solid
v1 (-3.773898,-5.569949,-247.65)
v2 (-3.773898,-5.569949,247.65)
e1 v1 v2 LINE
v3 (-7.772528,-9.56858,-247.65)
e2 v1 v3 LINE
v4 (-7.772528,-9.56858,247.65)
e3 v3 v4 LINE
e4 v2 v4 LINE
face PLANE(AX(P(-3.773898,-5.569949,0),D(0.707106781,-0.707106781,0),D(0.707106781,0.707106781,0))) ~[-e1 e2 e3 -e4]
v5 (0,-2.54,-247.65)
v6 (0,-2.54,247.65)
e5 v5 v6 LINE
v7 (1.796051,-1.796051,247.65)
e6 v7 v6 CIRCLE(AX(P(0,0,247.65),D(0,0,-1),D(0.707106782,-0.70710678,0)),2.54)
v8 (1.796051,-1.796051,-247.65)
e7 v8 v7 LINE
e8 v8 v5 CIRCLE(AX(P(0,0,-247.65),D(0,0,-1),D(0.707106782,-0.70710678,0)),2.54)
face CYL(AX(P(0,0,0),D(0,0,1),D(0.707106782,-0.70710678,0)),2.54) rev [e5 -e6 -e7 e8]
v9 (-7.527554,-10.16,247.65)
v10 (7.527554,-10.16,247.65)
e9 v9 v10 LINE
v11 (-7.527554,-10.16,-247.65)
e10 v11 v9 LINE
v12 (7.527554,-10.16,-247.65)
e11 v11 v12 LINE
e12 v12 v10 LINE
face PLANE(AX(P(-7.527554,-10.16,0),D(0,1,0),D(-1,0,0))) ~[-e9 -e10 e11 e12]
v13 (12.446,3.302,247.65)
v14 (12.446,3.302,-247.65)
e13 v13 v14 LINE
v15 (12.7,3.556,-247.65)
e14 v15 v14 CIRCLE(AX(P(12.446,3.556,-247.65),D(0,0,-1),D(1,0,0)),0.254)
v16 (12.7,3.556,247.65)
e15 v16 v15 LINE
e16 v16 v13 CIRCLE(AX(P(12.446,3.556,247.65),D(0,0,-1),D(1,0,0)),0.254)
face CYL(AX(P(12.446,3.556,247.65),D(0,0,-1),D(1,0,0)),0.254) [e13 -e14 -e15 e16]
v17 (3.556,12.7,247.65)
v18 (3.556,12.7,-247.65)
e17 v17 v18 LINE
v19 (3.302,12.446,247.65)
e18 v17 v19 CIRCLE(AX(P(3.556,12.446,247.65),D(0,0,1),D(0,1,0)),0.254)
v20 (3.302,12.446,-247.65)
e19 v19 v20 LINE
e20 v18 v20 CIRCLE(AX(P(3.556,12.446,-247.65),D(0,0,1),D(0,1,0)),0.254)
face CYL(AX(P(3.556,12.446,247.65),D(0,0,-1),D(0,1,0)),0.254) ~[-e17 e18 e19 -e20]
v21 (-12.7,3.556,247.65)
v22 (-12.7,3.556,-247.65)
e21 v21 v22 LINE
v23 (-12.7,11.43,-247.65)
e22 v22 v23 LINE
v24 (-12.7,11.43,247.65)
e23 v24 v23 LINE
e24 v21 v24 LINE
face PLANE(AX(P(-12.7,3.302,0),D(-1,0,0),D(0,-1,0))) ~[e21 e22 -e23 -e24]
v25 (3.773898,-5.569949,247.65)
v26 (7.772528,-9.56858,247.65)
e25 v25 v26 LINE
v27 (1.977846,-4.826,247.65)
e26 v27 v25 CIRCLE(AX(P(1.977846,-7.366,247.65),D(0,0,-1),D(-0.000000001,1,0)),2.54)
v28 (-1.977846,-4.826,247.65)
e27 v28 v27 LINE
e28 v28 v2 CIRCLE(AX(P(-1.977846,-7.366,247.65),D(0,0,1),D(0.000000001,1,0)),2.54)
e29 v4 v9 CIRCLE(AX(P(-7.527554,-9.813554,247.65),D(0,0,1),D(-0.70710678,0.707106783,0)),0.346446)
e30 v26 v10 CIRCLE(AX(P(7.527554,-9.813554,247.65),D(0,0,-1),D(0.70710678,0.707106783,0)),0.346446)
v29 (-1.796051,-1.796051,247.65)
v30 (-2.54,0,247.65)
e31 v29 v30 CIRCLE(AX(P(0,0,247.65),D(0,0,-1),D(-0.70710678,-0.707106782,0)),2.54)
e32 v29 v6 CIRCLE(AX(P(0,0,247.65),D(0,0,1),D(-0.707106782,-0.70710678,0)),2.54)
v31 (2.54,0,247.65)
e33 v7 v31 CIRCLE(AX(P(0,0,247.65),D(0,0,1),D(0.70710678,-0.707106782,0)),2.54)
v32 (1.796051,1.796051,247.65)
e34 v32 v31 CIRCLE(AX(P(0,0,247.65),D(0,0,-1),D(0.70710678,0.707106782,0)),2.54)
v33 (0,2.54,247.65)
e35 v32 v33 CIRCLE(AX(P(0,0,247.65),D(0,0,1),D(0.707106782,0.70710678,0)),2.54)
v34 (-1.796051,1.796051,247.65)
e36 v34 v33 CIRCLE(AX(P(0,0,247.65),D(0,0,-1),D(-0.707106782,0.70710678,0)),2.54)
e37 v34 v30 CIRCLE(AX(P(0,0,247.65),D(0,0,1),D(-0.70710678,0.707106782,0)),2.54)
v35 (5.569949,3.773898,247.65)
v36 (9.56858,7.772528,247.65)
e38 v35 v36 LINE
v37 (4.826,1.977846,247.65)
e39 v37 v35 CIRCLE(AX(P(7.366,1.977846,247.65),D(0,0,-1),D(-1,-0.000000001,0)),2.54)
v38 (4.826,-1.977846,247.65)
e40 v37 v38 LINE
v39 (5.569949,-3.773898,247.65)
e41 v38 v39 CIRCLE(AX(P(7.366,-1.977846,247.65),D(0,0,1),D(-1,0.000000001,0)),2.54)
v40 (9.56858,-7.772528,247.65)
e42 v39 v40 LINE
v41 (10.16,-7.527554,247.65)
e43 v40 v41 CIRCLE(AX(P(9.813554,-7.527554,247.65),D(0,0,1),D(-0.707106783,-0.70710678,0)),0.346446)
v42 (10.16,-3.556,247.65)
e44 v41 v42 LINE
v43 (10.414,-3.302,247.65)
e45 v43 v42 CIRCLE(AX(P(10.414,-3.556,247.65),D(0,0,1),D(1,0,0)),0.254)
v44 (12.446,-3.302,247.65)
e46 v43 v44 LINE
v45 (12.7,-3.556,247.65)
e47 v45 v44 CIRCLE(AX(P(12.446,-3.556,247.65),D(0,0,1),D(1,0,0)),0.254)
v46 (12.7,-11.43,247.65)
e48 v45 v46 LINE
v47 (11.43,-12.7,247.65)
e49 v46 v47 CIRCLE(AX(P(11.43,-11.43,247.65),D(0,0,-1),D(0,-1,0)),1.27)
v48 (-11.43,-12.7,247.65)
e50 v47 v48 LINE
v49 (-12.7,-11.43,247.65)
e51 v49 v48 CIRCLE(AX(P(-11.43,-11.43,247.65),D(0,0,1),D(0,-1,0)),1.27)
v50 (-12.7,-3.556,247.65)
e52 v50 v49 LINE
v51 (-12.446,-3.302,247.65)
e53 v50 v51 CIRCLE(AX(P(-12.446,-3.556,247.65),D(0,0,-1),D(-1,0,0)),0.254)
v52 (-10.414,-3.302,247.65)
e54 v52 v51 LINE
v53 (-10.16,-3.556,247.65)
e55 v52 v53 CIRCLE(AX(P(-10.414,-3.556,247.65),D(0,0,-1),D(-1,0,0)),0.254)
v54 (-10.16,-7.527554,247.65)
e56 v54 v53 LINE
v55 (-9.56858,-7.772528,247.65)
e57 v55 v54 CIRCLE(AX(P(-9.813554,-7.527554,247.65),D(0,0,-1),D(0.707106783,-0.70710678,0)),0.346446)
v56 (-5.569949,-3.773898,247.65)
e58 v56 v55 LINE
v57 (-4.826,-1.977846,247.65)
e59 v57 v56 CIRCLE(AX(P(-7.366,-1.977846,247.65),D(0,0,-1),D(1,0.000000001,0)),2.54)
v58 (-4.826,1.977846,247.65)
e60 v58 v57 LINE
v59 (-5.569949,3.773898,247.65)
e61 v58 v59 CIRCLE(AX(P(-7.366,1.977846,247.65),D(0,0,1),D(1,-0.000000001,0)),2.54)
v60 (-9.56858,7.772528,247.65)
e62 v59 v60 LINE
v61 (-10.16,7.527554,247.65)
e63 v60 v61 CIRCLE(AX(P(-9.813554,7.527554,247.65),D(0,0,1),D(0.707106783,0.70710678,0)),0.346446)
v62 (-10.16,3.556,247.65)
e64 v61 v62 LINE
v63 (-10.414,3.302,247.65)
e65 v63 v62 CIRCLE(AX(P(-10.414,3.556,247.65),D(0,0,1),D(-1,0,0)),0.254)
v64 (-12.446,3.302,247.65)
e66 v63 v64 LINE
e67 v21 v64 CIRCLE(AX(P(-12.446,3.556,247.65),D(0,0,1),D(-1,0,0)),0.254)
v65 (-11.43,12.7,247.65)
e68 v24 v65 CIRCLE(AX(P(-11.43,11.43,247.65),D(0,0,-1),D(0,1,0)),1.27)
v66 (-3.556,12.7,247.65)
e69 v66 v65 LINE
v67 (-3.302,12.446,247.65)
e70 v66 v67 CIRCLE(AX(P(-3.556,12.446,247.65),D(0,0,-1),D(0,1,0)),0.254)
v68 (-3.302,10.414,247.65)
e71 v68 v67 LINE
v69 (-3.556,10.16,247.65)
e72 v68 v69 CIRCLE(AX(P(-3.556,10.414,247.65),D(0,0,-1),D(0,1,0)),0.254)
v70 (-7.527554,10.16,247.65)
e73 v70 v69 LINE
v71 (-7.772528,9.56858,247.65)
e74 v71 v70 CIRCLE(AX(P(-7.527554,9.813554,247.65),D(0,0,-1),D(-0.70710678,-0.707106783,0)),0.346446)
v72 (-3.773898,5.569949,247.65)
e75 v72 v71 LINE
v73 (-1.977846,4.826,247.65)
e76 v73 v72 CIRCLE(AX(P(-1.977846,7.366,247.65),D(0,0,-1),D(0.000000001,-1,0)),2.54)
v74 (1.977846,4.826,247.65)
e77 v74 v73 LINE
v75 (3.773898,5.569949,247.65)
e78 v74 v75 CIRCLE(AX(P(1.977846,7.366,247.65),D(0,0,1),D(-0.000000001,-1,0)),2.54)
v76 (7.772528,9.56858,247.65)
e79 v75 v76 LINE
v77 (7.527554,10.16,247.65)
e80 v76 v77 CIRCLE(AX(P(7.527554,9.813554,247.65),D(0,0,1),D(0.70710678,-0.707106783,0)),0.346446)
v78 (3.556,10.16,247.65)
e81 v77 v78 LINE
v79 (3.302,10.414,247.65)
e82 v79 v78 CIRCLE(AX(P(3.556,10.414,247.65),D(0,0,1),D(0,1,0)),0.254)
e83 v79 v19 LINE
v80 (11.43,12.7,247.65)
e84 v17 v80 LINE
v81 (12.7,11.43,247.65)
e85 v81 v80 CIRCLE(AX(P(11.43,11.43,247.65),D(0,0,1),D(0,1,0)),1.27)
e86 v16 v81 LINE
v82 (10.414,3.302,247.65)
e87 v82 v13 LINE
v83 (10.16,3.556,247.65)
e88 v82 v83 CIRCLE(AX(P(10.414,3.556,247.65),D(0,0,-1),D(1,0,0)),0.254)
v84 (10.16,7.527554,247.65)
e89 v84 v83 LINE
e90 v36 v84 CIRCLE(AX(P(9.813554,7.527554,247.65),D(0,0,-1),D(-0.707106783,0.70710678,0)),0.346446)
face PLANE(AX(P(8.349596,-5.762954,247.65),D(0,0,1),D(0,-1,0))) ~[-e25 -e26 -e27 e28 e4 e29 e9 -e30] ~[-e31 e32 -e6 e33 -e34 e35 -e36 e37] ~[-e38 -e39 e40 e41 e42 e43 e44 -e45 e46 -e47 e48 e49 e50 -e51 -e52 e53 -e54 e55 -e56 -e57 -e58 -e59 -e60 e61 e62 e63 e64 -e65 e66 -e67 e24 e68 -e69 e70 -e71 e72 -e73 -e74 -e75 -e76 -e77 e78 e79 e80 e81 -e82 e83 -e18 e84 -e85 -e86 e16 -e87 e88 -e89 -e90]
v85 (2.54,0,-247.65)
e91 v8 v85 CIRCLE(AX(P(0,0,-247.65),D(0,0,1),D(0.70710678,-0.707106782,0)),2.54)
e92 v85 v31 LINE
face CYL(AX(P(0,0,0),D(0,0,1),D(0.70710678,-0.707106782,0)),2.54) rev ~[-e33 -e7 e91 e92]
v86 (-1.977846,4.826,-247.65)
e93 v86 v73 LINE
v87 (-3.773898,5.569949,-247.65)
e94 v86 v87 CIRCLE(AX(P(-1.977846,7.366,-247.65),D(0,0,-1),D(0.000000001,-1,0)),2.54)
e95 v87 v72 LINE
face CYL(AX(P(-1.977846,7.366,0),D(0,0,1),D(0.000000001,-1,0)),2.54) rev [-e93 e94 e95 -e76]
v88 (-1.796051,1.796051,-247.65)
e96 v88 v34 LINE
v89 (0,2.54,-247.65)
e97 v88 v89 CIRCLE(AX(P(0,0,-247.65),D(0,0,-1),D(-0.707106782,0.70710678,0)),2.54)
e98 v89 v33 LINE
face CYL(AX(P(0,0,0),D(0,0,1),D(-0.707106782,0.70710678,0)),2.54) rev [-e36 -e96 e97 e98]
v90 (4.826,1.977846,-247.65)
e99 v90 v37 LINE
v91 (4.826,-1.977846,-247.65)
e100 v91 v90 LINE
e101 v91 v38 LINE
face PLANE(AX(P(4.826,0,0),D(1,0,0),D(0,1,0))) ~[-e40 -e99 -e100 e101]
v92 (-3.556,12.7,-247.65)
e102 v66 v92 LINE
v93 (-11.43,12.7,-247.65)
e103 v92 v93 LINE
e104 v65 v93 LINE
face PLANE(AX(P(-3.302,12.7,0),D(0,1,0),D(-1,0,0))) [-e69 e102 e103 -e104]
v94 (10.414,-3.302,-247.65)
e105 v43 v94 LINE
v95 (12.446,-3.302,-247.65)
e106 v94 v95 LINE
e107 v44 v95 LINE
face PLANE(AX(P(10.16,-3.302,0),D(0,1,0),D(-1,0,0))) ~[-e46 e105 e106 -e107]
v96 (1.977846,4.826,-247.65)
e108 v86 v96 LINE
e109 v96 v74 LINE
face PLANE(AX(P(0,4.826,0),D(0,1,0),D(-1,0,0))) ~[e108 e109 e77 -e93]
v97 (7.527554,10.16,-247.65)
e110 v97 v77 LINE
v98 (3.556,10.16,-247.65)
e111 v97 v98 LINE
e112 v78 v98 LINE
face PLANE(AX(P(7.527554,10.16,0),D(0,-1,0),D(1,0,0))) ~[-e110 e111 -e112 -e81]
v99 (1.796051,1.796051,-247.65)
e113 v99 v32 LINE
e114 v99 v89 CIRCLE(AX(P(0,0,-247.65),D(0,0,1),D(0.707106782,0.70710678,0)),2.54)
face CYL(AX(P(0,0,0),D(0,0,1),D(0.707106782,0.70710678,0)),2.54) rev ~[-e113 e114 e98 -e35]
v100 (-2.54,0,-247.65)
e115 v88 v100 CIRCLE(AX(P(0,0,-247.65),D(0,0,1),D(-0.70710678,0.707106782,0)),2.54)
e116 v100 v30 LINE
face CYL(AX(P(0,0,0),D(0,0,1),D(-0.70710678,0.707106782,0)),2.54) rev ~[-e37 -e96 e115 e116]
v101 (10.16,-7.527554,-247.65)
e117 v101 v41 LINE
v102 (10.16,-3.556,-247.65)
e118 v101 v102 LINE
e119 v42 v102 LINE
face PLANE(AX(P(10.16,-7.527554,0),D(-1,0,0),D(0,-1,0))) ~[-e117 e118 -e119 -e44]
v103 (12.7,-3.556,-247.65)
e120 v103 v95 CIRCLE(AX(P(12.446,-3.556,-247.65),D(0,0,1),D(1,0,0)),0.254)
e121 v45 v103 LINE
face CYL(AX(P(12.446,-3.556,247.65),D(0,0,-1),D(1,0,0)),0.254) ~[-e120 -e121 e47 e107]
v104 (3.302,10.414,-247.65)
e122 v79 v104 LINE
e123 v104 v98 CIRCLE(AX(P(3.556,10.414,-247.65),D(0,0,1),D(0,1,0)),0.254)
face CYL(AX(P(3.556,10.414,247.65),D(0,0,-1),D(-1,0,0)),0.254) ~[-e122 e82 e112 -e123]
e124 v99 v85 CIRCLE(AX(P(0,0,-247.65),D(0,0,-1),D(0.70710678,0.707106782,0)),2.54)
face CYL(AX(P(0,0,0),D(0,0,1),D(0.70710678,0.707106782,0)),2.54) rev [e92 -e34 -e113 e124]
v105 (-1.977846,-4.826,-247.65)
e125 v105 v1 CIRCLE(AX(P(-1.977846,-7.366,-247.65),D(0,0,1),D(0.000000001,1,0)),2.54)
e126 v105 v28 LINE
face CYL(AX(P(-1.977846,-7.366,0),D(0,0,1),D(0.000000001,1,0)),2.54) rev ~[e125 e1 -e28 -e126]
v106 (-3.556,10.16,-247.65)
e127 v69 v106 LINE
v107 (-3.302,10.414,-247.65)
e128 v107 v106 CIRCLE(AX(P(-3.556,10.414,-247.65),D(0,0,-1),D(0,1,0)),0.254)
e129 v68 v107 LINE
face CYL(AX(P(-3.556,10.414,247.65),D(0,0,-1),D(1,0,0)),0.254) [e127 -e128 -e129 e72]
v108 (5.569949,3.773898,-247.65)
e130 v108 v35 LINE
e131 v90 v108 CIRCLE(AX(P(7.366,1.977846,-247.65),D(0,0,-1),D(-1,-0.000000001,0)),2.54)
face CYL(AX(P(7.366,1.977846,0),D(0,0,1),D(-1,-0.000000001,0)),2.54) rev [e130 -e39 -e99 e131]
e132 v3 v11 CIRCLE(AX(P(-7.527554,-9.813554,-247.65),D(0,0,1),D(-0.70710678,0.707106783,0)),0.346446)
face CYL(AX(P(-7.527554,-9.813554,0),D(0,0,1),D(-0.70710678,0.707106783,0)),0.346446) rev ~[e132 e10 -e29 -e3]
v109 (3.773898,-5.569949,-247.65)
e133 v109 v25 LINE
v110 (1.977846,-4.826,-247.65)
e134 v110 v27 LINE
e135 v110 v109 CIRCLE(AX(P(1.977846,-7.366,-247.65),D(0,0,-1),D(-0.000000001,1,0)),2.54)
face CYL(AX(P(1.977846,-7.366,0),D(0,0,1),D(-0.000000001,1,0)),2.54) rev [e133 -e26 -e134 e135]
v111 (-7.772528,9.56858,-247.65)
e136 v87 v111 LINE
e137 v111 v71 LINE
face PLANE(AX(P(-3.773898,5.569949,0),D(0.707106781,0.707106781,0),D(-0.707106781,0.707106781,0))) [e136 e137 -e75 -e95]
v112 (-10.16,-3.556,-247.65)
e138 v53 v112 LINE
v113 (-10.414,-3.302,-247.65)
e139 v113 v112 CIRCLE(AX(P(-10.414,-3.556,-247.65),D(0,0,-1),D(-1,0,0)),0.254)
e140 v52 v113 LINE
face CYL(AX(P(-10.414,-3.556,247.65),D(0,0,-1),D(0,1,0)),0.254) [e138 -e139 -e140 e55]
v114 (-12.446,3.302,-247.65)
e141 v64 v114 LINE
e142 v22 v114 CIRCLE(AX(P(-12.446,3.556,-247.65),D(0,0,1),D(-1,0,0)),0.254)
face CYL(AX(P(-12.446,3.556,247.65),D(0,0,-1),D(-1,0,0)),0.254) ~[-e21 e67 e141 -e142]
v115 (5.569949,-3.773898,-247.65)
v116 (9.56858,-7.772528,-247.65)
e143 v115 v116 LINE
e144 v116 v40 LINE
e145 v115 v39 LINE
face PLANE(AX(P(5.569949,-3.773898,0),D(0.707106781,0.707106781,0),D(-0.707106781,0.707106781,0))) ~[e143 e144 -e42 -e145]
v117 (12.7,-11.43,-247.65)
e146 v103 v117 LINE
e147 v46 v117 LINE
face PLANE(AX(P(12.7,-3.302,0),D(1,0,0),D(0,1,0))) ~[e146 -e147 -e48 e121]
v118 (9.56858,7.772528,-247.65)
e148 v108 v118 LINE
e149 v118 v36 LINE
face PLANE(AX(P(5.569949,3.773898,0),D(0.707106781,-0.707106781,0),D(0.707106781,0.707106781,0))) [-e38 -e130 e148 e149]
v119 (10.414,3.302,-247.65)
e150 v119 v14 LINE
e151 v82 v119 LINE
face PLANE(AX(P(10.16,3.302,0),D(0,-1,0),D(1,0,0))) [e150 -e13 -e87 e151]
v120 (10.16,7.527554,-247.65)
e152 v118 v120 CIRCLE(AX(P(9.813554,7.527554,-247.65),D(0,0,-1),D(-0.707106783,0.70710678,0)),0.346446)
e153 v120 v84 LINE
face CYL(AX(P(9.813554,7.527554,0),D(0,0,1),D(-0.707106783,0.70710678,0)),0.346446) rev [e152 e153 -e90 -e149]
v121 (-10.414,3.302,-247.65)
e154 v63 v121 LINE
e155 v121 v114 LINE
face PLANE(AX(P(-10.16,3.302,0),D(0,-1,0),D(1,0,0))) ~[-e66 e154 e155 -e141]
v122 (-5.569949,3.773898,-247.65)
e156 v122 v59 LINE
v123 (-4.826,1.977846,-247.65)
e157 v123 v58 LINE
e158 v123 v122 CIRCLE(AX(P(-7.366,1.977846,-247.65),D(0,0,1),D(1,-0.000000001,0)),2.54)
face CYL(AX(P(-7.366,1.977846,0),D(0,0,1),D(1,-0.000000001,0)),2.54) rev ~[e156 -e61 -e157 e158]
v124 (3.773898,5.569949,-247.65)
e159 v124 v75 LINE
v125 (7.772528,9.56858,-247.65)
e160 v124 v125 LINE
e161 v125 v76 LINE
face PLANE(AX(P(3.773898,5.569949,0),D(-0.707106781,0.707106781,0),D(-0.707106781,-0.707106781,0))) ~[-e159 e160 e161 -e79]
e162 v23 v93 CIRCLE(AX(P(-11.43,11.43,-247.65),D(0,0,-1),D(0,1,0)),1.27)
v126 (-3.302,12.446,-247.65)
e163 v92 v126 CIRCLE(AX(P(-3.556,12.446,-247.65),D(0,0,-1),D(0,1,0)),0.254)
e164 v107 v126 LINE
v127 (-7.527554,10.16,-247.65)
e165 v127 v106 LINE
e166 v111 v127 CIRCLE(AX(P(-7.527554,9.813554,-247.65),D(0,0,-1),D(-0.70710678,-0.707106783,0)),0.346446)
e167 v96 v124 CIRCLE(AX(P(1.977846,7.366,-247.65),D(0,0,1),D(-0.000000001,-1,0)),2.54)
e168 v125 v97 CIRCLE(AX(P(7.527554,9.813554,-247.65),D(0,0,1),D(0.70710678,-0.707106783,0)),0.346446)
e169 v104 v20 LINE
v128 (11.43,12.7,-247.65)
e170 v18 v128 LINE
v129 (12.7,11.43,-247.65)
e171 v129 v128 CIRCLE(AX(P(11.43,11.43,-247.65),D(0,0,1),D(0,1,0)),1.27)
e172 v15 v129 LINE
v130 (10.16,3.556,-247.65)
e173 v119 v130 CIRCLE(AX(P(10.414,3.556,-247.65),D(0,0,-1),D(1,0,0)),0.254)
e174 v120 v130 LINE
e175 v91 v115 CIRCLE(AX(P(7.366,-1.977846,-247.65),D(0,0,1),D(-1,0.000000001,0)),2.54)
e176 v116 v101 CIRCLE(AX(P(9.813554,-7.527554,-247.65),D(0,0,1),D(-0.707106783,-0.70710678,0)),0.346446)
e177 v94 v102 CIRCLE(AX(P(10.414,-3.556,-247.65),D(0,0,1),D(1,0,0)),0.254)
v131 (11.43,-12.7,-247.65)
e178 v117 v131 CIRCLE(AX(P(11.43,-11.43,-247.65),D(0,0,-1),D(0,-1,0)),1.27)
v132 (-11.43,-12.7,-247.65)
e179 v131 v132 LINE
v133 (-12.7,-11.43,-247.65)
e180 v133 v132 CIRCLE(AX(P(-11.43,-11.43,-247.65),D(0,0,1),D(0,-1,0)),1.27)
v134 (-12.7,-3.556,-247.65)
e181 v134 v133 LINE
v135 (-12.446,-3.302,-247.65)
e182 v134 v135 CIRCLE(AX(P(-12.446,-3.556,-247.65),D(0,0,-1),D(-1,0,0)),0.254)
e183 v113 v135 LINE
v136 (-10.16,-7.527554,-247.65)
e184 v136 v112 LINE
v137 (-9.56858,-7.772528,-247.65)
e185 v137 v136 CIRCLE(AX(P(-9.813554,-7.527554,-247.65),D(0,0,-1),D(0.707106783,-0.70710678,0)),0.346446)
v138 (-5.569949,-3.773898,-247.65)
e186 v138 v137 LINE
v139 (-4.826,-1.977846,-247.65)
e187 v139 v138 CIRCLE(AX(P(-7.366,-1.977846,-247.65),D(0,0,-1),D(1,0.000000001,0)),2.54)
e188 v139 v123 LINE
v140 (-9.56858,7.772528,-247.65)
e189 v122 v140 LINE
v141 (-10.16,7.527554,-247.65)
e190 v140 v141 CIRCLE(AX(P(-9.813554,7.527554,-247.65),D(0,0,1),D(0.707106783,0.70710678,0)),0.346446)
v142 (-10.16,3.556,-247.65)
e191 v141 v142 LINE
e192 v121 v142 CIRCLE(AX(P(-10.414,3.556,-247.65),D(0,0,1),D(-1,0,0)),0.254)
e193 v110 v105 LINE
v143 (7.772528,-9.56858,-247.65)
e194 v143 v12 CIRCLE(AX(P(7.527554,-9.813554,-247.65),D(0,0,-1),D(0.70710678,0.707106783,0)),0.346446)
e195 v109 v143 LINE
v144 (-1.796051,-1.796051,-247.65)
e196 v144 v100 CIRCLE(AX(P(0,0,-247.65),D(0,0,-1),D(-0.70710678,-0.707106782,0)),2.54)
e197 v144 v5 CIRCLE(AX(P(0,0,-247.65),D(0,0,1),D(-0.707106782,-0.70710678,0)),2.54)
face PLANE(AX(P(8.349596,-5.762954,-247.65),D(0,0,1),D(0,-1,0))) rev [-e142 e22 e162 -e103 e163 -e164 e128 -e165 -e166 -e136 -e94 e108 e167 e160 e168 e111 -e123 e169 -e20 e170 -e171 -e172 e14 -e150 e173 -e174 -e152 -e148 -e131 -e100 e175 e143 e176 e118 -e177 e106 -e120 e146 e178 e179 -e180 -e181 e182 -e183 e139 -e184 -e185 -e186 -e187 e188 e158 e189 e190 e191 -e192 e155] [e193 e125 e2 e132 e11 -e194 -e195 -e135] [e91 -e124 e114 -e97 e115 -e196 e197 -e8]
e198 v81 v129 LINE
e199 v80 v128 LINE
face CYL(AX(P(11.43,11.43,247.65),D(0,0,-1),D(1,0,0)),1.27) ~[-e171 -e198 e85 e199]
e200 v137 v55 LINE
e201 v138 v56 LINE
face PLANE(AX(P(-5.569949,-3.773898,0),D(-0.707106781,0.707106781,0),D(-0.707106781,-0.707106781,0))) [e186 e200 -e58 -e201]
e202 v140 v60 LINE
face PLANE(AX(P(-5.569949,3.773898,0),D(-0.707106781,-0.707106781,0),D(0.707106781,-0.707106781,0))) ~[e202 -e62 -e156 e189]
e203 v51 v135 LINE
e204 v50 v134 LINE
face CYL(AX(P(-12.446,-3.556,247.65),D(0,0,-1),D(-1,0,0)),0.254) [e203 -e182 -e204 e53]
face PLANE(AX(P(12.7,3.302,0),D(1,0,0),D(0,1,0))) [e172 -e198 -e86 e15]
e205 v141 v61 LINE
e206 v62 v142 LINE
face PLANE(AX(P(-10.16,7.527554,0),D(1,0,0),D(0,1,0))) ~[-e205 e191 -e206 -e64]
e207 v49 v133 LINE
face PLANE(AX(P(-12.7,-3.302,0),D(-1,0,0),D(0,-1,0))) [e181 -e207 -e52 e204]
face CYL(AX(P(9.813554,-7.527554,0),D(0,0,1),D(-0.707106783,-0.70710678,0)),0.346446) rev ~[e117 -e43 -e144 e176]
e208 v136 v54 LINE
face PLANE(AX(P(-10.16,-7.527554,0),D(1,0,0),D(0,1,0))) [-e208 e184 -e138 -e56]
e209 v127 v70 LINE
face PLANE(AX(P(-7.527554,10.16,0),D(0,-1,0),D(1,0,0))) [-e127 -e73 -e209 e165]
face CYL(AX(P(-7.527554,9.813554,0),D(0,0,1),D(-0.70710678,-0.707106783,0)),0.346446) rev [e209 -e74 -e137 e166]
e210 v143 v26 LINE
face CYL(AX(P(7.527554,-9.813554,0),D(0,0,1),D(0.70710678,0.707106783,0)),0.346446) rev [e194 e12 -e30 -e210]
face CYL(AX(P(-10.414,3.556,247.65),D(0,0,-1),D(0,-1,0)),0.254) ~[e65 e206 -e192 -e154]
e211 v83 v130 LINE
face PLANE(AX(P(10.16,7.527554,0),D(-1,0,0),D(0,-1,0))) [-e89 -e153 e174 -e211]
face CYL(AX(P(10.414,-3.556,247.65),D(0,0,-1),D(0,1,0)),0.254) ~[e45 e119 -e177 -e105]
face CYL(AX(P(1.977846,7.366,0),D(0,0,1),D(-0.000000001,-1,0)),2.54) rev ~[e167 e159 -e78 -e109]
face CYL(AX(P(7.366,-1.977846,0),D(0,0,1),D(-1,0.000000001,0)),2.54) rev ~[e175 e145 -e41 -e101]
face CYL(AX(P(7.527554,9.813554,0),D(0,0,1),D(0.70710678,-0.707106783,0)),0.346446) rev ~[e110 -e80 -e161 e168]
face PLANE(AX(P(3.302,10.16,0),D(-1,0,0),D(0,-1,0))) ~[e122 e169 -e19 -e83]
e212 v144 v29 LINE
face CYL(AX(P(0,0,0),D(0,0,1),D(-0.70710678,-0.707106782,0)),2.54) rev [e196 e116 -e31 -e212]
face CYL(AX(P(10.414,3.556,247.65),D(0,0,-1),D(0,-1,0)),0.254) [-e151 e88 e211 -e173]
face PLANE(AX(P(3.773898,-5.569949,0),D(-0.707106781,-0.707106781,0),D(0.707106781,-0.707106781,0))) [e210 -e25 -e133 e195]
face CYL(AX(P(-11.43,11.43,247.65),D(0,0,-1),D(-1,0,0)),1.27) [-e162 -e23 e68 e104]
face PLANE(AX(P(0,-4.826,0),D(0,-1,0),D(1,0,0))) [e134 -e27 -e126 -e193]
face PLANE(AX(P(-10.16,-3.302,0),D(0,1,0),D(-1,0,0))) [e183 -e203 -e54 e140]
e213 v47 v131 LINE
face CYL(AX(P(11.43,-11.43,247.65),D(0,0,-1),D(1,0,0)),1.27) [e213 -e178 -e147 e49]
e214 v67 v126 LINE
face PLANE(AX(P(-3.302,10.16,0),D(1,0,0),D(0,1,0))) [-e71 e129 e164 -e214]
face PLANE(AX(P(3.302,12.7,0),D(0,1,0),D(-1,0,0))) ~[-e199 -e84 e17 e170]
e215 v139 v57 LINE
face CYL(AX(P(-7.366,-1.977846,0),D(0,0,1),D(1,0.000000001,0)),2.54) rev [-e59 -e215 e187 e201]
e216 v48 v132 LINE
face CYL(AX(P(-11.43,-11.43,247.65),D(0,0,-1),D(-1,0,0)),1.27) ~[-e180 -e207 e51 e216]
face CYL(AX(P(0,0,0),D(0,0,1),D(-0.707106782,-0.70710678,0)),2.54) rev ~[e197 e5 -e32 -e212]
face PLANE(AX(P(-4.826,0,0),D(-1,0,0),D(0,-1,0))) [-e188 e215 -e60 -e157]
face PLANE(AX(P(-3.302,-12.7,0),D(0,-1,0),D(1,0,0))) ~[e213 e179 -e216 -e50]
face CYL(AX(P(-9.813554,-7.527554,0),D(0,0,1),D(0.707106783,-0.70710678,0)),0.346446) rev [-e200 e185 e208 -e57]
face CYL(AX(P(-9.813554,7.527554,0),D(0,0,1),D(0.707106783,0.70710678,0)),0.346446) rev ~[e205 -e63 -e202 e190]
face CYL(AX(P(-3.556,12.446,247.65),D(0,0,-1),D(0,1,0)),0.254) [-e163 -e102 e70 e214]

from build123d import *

# Parameters (mm, degrees)
BOSS_EXTRUDE1_DEPTH = 247.65
FILLET2_R           = 0.254
FILLET1_R           = 1.27
SKETCH5_W           = 7.112
SKETCH5_H           = 2.54
BOSS_EXTRUDE2_DEPTH = 495.3


with BuildPart() as part:
    # Sketch3 → Boss-Extrude1 (new body, symmetric)
    with BuildSketch(Plane.XY):
        with BuildLine():
            Line((-12.7, 12.7), (-1.796051224, 1.796051224))
            ThreePointArc((-1.796051224, 1.796051224), (-0.972015918, 2.346654013), (0, 2.54))
            Line((0, 2.54), (0, 4.826))
            Line((0, 4.826), (-1.977846327, 4.826))
            ThreePointArc((-1.977846327, 4.826), (-2.949862246, 5.019345987), (-3.773897552, 5.569948776))
            Line((-3.773897552, 5.569948776), (-7.772528286, 9.56857951))
            ThreePointArc((-7.772528286, 9.56857951), (-7.847628361, 9.946133082), (-7.527553898, 10.16))
            Line((-7.527553898, 10.16), (-3.302, 10.16))
            Line((-3.302, 10.16), (-3.302, 12.7))
            Line((-3.302, 12.7), (-12.7, 12.7))
        make_face()
    extrude(amount=BOSS_EXTRUDE1_DEPTH, both=True)

    # Fillet2
    fillet2_edges = [part.edges().sort_by_distance(p)[0] for p in [
        (-3.302, 12.7, 0),
        (-3.302, 10.16, 0),
    ]]
    fillet(fillet2_edges, radius=FILLET2_R)

    # Mirror1: part across plane


with BuildPart() as part_1:
    add(part.part)
    add(part.part.mirror(Plane(origin=(0, 0, 247.65), x_dir=(0, 0, 1), z_dir=(0.707106781, 0.707106781, 0))))

    # Fillet1
    fillet1_edges = [part_1.edges().sort_by_distance(p)[0] for p in [
        (-12.7, 12.7, 0),
    ]]
    fillet(fillet1_edges, radius=FILLET1_R)

    # Mirror2: part across plane


with BuildPart() as part_2:
    add(part_1.part)
    add(part_1.part.mirror(Plane(origin=(0, 0, 247.65), x_dir=(0, 0, 1), z_dir=(0, 1, 0))))

    # Mirror5: part across plane


with BuildPart() as part_3:
    add(part_2.part)
    add(part_2.part.mirror(Plane(origin=(0, 0, 247.65), x_dir=(0, 0, 1), z_dir=(-1, 0, 0))))

    # Sketch5 → Boss-Extrude2 (add, through all)
    with BuildSketch(Plane.XY.offset(247.65)):
        with Locations((0, -11.43)):
            Rectangle(SKETCH5_W, SKETCH5_H)
    extrude(amount=-BOSS_EXTRUDE2_DEPTH)


solid = part_3.part
